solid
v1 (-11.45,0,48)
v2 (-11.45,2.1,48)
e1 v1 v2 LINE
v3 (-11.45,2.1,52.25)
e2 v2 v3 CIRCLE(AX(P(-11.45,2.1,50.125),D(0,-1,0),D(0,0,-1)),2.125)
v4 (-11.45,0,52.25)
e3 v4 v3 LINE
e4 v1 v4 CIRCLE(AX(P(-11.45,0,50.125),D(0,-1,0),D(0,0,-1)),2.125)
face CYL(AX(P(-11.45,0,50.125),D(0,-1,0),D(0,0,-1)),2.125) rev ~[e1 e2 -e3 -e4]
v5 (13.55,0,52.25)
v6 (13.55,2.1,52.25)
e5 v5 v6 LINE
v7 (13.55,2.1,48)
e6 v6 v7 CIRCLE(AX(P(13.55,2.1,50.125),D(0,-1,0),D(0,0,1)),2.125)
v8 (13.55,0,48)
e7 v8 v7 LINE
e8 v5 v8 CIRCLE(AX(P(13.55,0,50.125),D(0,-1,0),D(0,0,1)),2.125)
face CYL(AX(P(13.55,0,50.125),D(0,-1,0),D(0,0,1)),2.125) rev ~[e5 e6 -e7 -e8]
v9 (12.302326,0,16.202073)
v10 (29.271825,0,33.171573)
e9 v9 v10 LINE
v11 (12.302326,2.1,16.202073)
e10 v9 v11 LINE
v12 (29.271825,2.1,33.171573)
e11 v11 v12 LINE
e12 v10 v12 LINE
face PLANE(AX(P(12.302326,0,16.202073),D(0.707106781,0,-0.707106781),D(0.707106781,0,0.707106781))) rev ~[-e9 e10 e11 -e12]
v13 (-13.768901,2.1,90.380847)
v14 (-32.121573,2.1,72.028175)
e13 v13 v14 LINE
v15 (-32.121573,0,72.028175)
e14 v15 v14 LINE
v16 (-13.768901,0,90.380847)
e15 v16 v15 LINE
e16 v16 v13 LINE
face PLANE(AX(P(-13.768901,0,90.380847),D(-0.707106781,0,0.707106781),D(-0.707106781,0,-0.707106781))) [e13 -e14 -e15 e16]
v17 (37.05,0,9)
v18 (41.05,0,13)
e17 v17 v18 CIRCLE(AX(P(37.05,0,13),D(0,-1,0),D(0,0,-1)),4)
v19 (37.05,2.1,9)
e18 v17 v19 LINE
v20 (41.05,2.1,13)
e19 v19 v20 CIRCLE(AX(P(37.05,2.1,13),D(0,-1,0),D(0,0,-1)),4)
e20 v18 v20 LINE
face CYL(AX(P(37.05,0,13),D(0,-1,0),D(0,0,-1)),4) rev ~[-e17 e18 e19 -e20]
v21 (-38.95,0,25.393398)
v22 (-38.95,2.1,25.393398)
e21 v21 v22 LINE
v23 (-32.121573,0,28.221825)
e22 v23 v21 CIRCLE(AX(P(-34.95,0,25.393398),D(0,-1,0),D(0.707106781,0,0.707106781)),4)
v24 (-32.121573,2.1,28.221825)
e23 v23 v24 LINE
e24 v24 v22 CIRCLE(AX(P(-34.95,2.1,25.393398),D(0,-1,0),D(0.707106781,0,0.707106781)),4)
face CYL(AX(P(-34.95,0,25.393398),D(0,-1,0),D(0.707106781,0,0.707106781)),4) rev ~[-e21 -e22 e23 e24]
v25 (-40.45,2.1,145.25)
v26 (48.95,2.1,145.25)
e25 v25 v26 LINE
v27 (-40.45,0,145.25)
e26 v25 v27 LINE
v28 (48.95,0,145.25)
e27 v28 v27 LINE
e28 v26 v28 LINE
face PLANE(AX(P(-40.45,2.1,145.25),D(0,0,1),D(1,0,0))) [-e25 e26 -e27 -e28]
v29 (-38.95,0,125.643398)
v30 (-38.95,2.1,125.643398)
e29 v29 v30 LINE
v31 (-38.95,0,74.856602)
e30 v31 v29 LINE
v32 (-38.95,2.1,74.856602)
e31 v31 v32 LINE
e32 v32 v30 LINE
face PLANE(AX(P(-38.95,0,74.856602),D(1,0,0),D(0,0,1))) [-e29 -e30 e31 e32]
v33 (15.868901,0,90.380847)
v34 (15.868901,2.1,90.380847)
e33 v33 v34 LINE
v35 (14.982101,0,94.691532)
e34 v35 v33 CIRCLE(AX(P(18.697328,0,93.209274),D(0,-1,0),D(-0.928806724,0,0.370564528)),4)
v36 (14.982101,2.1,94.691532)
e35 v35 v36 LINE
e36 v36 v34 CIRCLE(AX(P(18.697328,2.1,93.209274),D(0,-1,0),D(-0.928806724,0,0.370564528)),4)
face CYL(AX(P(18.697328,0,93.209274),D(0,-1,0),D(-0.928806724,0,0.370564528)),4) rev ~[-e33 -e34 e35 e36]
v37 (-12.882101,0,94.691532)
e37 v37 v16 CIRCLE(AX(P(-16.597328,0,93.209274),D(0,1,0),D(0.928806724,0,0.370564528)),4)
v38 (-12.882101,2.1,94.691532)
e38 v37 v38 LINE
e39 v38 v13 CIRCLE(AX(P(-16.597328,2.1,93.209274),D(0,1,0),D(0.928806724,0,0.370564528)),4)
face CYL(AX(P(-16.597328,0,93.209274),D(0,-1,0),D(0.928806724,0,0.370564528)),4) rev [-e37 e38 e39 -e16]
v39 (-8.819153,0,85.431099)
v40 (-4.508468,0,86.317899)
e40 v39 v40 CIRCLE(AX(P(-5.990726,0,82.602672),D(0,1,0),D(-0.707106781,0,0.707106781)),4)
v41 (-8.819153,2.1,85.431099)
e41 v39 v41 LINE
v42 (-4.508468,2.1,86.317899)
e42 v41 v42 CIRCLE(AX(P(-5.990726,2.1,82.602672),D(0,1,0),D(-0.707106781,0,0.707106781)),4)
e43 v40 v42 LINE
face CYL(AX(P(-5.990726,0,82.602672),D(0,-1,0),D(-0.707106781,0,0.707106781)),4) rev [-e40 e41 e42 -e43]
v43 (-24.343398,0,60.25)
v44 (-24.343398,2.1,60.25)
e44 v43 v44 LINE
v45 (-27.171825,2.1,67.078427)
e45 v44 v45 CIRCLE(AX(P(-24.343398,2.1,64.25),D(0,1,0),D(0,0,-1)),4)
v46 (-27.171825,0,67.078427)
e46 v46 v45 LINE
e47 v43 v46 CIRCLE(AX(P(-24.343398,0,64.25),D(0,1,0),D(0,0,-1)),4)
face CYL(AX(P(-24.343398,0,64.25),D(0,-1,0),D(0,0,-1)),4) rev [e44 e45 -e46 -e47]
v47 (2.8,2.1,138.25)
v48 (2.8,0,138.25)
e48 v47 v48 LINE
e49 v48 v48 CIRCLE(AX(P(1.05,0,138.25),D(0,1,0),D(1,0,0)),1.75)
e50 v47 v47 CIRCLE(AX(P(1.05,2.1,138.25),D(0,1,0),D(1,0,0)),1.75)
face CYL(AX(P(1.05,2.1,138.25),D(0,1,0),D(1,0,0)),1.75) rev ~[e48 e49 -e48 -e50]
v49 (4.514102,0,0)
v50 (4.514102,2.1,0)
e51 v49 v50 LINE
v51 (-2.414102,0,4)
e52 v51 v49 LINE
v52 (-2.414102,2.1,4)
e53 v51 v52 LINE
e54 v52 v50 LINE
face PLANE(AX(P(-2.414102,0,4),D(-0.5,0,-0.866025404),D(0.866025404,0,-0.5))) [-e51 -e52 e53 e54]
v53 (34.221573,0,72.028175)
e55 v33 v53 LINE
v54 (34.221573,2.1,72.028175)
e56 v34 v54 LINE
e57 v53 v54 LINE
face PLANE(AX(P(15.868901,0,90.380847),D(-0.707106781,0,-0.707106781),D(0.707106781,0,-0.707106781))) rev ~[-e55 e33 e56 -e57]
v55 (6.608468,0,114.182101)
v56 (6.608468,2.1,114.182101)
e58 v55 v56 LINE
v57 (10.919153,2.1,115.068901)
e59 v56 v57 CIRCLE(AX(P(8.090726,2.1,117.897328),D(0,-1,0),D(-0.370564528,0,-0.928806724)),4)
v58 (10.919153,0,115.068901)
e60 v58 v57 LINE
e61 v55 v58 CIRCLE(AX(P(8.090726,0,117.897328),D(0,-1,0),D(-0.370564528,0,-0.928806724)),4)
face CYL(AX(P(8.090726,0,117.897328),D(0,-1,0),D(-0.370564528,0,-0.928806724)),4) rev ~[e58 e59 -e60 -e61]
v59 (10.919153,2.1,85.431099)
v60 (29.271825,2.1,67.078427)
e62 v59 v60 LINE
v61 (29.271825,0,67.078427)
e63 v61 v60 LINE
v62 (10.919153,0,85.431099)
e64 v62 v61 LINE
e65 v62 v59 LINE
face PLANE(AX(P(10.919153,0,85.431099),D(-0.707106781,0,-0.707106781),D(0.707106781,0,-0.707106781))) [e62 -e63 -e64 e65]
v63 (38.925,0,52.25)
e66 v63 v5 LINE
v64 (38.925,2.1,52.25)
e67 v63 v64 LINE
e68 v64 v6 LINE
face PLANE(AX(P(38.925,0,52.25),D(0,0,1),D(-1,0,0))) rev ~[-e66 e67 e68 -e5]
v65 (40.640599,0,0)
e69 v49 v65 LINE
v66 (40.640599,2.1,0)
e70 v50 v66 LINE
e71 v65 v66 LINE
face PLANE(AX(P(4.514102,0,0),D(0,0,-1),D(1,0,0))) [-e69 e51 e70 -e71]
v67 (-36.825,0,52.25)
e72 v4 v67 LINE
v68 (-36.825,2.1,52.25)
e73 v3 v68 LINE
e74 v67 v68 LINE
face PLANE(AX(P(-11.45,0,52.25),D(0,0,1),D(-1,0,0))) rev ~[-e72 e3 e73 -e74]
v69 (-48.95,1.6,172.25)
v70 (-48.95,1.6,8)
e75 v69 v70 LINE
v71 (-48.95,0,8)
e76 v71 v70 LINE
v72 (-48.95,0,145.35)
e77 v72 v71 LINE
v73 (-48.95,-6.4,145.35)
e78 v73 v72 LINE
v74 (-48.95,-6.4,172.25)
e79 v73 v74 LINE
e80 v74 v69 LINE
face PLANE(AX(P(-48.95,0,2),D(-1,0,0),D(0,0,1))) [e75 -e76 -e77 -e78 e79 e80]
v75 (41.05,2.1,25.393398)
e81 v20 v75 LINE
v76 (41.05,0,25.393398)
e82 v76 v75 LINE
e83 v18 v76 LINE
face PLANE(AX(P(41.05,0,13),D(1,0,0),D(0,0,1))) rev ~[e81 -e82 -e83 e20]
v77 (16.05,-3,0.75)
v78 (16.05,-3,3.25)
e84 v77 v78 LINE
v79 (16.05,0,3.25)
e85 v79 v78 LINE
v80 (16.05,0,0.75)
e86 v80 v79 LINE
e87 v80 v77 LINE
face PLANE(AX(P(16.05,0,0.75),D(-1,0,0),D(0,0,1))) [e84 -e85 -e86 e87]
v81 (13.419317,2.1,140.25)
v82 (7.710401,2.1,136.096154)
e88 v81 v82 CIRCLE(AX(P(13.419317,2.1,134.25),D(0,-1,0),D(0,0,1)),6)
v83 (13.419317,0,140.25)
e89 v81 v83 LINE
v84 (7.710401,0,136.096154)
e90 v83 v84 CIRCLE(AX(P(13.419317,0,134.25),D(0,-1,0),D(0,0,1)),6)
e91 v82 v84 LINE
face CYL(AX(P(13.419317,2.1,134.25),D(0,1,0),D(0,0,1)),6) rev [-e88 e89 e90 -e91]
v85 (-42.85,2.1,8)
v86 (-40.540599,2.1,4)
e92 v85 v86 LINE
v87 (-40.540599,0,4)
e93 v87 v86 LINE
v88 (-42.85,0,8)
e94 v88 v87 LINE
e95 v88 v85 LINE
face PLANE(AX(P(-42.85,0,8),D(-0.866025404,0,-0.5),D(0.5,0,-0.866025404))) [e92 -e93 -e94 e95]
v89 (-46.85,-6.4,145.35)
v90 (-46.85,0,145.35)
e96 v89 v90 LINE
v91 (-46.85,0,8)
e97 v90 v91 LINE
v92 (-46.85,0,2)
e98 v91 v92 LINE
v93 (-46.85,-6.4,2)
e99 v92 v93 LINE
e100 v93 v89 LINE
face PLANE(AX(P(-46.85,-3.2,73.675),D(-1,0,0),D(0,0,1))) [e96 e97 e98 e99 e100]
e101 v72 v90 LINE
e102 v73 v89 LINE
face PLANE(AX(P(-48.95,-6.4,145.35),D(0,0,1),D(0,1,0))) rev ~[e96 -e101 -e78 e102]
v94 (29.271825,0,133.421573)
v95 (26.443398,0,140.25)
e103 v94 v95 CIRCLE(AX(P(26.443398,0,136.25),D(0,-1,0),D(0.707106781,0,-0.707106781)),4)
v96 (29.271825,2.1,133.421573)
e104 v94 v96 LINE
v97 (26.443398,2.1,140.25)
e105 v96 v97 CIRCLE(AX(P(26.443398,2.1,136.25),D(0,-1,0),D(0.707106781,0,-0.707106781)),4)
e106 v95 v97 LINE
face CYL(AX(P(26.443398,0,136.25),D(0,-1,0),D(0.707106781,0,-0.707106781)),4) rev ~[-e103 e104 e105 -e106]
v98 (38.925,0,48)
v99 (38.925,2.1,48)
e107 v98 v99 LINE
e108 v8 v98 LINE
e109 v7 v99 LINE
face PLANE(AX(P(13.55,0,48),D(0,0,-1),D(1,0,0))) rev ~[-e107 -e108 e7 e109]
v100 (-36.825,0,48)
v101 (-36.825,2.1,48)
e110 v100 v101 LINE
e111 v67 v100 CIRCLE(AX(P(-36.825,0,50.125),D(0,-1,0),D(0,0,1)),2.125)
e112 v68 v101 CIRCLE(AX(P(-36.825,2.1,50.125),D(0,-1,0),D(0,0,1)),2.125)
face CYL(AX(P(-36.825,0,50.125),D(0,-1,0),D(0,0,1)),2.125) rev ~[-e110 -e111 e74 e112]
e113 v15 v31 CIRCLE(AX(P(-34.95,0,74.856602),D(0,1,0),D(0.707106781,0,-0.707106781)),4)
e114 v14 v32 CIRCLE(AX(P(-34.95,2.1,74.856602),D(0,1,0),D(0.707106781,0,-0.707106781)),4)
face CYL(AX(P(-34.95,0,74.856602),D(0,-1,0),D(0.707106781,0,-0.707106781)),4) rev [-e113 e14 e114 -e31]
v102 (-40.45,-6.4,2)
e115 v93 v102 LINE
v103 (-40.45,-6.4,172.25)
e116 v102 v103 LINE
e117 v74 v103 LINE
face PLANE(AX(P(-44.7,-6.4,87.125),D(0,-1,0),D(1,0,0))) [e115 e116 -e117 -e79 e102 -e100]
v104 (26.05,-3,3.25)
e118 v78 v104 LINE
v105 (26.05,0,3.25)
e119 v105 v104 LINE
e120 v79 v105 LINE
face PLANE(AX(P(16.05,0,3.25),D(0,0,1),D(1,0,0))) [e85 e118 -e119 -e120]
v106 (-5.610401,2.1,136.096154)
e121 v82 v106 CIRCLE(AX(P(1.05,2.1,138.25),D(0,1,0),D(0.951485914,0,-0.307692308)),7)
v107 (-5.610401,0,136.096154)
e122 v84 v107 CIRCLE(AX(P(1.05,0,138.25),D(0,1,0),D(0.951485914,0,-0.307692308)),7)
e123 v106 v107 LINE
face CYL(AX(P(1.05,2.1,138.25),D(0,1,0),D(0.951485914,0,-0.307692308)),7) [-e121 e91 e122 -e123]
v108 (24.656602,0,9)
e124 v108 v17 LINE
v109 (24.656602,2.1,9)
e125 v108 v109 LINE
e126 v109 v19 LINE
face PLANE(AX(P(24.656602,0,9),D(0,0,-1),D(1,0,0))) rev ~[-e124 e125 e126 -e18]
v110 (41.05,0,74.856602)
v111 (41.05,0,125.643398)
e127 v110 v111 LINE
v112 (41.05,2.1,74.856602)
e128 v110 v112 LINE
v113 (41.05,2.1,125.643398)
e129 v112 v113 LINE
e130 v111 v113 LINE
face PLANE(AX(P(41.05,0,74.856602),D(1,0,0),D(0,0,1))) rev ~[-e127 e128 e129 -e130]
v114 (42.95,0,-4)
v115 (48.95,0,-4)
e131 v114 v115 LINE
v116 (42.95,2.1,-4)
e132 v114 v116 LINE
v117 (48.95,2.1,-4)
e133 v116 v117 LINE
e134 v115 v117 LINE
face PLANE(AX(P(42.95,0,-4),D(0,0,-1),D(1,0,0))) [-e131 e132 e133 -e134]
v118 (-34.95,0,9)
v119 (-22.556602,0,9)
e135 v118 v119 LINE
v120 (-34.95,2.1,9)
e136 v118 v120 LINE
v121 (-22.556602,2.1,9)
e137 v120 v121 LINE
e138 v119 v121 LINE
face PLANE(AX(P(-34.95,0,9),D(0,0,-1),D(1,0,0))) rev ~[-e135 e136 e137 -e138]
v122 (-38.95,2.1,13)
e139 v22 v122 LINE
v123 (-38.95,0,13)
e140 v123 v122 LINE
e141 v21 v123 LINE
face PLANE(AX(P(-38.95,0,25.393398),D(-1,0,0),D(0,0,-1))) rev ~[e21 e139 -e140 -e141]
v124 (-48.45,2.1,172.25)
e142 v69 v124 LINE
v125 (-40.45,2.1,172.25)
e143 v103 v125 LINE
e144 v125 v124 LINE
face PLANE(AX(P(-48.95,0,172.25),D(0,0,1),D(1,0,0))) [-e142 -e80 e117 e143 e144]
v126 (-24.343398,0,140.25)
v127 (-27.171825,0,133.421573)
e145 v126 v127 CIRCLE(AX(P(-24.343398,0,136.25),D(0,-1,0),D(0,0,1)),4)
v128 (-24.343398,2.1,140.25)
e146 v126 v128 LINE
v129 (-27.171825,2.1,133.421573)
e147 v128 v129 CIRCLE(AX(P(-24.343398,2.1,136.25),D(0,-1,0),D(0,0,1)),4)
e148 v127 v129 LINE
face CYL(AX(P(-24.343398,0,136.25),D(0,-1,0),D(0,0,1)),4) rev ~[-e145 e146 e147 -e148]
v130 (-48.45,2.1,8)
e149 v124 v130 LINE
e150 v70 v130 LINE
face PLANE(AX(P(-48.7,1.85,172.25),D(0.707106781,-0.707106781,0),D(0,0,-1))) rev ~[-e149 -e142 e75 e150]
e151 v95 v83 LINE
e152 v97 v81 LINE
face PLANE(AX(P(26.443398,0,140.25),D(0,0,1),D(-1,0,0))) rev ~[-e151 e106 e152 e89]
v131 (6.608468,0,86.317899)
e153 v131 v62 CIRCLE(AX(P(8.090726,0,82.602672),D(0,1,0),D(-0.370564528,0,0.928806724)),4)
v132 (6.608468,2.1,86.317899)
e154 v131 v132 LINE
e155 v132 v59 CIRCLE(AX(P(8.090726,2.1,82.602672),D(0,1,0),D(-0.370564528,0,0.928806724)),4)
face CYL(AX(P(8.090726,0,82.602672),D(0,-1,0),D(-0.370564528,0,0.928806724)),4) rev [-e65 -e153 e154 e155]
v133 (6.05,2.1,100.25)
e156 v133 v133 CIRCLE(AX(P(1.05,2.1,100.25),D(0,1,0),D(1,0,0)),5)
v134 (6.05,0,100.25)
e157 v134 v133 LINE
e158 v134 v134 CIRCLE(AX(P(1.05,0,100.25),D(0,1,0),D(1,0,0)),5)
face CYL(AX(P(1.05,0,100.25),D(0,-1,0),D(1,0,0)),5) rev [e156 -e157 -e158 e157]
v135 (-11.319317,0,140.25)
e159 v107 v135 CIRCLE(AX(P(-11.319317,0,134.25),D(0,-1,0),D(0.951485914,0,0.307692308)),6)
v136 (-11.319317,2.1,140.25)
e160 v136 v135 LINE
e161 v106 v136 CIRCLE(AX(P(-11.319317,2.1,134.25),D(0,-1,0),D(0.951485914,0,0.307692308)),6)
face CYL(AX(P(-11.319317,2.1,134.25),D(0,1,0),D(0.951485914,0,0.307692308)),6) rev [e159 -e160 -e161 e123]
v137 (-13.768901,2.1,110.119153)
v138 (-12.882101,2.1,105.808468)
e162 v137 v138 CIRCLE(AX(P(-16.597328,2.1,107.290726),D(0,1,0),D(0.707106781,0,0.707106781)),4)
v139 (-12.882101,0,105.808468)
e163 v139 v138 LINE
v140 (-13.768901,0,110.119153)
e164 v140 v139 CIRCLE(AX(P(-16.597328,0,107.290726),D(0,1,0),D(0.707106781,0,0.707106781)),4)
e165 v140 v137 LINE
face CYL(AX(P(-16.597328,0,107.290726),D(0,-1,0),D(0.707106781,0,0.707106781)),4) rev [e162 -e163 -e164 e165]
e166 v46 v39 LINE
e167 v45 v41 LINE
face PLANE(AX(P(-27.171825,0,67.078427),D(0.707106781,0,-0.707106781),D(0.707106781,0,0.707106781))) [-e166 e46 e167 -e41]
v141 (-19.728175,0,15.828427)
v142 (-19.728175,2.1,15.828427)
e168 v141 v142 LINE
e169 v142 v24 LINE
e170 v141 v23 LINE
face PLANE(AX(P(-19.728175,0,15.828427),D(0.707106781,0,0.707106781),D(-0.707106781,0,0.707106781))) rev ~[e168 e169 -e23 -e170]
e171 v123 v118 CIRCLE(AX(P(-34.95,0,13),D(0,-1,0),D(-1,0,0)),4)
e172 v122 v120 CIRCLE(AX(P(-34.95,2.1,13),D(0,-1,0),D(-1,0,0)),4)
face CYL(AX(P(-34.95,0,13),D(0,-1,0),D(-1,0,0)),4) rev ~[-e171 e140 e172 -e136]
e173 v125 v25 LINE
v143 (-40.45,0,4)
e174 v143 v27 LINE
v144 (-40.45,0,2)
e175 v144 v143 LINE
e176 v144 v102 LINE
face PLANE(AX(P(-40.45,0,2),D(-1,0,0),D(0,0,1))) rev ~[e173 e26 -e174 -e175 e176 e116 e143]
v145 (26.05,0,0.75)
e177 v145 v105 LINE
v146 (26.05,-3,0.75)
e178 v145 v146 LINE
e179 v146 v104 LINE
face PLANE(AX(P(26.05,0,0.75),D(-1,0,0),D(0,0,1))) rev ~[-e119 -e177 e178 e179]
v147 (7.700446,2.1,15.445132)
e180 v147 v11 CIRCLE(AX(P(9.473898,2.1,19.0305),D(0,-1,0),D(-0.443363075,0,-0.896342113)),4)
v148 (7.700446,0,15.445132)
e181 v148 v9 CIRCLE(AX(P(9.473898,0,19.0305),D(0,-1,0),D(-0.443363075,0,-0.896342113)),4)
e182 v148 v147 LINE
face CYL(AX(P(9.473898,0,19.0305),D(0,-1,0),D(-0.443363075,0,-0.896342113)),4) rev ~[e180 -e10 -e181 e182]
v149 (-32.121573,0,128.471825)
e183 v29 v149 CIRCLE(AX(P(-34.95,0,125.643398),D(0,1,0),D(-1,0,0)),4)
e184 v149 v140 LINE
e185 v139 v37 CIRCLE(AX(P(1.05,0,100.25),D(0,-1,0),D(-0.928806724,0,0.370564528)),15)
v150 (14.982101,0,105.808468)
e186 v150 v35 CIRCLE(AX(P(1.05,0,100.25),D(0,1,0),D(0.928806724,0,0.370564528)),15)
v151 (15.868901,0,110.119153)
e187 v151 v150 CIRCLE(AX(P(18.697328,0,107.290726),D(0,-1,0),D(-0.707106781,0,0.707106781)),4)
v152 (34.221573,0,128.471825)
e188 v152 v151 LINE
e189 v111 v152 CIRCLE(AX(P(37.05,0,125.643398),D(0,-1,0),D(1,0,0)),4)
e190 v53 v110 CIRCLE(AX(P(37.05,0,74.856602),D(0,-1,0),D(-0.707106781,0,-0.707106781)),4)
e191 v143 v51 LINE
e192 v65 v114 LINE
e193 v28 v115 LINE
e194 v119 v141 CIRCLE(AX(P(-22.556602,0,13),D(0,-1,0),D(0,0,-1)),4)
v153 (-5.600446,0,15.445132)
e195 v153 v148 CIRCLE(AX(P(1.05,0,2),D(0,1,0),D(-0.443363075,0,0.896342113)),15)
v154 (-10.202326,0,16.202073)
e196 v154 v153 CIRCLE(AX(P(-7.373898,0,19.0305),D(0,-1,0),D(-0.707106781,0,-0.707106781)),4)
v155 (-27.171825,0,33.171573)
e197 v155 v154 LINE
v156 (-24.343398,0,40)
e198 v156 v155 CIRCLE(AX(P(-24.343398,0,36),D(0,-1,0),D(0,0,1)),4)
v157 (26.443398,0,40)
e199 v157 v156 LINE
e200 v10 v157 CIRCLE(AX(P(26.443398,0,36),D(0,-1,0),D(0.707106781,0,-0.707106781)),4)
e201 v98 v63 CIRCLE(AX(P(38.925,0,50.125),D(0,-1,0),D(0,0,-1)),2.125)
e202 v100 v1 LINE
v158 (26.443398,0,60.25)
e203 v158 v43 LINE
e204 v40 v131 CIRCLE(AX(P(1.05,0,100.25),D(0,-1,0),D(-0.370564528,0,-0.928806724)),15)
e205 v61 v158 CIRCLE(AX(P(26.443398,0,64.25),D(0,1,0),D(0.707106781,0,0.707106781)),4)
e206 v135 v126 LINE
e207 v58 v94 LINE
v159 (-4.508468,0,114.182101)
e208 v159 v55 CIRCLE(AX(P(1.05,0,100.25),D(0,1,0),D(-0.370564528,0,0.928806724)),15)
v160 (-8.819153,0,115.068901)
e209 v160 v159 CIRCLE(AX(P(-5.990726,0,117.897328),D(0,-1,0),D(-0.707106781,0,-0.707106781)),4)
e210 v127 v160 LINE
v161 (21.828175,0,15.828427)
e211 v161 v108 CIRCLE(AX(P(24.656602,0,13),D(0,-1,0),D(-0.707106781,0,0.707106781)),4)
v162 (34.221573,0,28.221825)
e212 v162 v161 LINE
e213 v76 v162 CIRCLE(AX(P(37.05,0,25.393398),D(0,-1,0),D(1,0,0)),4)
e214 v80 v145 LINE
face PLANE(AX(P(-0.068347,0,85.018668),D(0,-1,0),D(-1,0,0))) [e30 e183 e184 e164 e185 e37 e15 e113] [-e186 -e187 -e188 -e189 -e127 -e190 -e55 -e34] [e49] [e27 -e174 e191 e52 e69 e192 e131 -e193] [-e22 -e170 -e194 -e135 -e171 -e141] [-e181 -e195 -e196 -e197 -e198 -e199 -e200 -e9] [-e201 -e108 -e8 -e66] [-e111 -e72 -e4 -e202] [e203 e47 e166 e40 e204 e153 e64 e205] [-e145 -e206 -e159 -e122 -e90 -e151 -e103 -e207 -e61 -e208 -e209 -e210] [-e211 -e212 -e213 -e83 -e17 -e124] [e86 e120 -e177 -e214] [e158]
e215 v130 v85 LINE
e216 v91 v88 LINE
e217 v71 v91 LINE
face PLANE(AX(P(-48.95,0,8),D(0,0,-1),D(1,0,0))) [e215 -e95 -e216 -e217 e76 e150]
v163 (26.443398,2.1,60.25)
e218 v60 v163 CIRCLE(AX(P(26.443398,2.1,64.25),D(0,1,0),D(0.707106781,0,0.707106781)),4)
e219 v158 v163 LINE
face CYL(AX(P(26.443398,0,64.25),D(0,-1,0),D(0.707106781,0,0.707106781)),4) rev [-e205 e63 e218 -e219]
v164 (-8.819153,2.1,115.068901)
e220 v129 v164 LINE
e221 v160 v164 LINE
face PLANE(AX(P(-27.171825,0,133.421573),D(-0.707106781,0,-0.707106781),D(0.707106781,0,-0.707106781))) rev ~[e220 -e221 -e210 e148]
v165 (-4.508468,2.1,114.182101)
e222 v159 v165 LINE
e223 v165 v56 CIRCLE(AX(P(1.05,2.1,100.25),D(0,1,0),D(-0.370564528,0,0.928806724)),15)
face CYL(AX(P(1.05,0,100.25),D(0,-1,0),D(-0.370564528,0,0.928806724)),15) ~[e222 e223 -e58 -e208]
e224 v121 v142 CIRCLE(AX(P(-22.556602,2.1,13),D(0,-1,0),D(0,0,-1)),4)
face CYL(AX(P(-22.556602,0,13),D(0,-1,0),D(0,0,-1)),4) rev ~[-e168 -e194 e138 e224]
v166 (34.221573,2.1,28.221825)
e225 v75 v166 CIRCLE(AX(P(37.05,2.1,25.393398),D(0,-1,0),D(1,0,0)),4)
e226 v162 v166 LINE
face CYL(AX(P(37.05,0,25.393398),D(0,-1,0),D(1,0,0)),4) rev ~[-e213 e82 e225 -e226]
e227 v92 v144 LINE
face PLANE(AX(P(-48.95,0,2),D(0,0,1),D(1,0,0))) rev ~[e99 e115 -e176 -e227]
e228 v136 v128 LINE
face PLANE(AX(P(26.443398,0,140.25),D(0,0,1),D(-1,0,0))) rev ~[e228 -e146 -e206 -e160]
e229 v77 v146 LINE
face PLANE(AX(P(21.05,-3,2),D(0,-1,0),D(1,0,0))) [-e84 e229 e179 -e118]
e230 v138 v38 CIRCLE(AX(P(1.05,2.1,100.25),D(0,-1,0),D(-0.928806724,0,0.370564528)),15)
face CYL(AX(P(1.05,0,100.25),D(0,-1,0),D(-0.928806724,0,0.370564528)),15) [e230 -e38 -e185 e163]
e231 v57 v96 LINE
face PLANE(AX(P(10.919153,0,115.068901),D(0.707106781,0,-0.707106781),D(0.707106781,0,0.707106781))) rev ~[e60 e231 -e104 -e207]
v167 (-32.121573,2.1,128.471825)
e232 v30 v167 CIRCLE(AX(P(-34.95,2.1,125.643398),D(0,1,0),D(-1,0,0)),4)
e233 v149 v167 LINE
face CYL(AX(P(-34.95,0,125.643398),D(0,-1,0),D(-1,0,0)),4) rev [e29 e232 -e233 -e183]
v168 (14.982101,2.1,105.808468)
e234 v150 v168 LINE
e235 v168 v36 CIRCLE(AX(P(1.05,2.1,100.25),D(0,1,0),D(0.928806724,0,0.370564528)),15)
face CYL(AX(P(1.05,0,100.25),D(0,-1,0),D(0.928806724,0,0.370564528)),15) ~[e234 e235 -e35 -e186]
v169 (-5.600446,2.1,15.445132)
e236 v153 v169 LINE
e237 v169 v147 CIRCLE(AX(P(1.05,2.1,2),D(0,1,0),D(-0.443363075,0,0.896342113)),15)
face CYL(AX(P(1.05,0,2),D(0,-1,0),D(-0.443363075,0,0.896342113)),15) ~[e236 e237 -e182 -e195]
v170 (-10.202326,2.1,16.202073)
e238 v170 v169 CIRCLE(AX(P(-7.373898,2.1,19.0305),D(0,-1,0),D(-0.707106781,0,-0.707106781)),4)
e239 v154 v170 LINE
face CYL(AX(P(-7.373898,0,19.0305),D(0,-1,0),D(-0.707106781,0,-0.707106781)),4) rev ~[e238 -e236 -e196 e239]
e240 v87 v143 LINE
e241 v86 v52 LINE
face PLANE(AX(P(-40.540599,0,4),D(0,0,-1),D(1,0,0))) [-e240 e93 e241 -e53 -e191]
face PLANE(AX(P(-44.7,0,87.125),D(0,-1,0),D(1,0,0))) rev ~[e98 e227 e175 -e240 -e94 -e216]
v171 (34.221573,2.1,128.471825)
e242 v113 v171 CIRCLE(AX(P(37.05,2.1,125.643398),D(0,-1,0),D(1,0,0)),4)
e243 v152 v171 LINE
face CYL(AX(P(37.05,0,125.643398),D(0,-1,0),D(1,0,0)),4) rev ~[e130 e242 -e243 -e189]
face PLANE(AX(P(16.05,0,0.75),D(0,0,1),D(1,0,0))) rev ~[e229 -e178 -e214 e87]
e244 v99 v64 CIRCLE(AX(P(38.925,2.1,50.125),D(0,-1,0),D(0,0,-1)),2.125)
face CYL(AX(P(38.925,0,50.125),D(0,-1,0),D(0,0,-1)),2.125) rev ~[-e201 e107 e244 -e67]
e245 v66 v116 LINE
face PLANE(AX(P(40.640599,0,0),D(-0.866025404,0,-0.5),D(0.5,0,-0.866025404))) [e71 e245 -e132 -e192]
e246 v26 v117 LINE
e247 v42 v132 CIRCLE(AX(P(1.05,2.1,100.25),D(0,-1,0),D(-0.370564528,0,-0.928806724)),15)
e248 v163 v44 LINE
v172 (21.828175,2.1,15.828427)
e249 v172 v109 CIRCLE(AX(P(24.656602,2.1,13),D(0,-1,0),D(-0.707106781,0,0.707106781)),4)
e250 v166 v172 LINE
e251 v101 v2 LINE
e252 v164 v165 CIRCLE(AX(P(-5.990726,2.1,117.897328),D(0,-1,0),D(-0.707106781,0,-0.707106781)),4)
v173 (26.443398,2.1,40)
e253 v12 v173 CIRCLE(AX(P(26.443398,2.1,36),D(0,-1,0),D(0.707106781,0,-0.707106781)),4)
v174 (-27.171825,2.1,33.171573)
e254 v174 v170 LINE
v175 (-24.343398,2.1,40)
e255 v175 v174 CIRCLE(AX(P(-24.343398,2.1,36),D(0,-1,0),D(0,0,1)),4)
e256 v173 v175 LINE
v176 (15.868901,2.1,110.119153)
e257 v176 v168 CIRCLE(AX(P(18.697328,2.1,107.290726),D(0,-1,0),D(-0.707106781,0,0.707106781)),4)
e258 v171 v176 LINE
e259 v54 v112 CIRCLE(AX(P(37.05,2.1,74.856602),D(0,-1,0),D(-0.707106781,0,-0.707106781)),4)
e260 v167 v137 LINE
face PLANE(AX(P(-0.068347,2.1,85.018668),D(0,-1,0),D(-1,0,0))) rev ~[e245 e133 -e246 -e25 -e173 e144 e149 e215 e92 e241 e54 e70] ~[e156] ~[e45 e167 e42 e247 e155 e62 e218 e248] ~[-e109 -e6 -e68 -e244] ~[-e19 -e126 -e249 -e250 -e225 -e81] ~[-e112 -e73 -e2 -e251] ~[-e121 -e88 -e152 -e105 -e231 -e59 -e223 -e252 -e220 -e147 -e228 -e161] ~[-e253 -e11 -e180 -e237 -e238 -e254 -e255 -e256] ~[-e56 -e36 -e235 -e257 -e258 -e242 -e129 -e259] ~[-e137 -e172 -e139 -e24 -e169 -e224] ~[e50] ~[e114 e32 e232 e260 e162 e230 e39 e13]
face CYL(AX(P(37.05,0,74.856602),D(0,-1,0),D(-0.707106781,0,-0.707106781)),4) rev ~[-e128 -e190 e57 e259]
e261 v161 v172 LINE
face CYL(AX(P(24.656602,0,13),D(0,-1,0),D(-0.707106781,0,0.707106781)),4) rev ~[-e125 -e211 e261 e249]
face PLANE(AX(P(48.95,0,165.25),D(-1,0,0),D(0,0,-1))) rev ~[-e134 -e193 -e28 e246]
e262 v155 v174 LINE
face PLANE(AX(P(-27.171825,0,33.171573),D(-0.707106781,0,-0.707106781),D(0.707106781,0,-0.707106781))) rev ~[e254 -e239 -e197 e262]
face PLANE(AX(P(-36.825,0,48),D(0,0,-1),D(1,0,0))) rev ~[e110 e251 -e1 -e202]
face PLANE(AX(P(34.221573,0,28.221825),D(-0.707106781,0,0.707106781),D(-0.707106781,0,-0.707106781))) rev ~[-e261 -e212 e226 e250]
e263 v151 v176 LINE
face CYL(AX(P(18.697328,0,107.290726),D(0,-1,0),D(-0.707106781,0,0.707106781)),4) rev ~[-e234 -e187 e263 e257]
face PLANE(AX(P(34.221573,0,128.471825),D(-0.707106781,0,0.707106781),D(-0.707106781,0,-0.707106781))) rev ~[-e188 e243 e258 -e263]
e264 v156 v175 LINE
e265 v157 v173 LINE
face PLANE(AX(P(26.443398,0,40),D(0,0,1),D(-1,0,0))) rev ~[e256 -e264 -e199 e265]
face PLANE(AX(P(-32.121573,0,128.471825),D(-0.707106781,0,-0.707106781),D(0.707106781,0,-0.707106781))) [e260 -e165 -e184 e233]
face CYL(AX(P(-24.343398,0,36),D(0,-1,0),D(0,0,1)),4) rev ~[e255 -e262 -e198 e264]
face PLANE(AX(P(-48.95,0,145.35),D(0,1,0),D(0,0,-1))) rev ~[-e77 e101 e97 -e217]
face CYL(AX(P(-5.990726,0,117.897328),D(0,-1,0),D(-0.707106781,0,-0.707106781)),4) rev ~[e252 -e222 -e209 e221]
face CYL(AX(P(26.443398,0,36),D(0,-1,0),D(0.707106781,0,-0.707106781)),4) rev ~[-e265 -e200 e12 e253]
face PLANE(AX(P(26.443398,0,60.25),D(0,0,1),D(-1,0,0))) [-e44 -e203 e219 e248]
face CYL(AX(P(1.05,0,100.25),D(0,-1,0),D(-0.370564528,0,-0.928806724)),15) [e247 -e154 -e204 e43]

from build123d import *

# Parameters (mm, degrees)
SKETCH1_R           = 5
BOSS_EXTRUDE1_DEPTH = 2.1
SKETCH5_W           = 8.5
SKETCH5_H           = 170.25
BOSS_EXTRUDE3_DEPTH = 6.4
CUT_EXTRUDE2_DEPTH  = 2.1
SKETCH7_W           = 10
SKETCH7_H           = 2.5
BOSS_EXTRUDE4_DEPTH = 3
CHAMFER1_SIZE       = 0.5
SKETCH8_W           = 89.4
SKETCH8_H           = 20
CUT_EXTRUDE3_DEPTH  = 9.5
SKETCH9_R           = 1.75
BOSS_EXTRUDE8_DEPTH = 2.1


with BuildPart() as part:
    # Sketch1 → Boss-Extrude1 (new body)
    with BuildSketch(Plane(origin=(0, 0, 0), x_dir=(1, 0, 0), z_dir=(0, 1, 0))):
        Polygon((-48.95, -172.25), (-48.95, -8), (-42.85, -8), (-40.540598923, -4), (-2.414101615, -4), (4.514101615, 0), (40.640598923, 0), (42.95, 4), (48.95, 4), (48.95, -7.35), (48.95, -165.25), (-40.45, -165.25), (-40.45, -172.25), align=None)
        with Locations((1.05, -100.25)):
            Circle(SKETCH1_R, mode=Mode.SUBTRACT)
        with BuildLine():
            Line((-27.171825407, -133.421572875), (-8.819153161, -115.06890063))
            ThreePointArc((-8.819153161, -115.06890063), (-6.796732371, -113.979375), (-4.508467924, -114.182100859))
            ThreePointArc((-4.508467924, -114.182100859), (1.05, -115.25), (6.608467924, -114.182100859))
            ThreePointArc((6.608467924, -114.182100859), (8.896732371, -113.979375), (10.919153161, -115.06890063))
            Line((10.919153161, -115.06890063), (29.271825407, -133.421572875))
            ThreePointArc((29.271825407, -133.421572875), (30.138916412, -137.780733729), (26.443398282, -140.25))
            Line((26.443398282, -140.25), (-24.343398282, -140.25))
            ThreePointArc((-24.343398282, -140.25), (-28.038916412, -137.780733729), (-27.171825407, -133.421572875))
        make_face(mode=Mode.SUBTRACT)
        with BuildLine():
            Line((-34.95, -9), (-22.556601718, -9))
            ThreePointArc((-22.556601718, -9), (-18.861083588, -11.469266271), (-19.728174593, -15.828427125))
            Line((-19.728174593, -15.828427125), (-32.121572875, -28.221825407))
            ThreePointArc((-32.121572875, -28.221825407), (-36.480733729, -29.088916412), (-38.95, -25.393398282))
            Line((-38.95, -25.393398282), (-38.95, -13))
            ThreePointArc((-38.95, -13), (-37.778427125, -10.171572875), (-34.95, -9))
        make_face(mode=Mode.SUBTRACT)
        with BuildLine():
            Line((41.05, -13), (41.05, -25.393398282))
            ThreePointArc((41.05, -25.393398282), (38.580733729, -29.088916412), (34.221572875, -28.221825407))
            Line((34.221572875, -28.221825407), (21.828174593, -15.828427125))
            ThreePointArc((21.828174593, -15.828427125), (20.961083588, -11.469266271), (24.656601718, -9))
            Line((24.656601718, -9), (37.05, -9))
            ThreePointArc((37.05, -9), (39.878427125, -10.171572875), (41.05, -13))
        make_face(mode=Mode.SUBTRACT)
        with BuildLine():
            Line((-32.121572875, -128.471825407), (-13.76890063, -110.119153161))
            ThreePointArc((-13.76890063, -110.119153161), (-12.679375, -108.096732371), (-12.882100859, -105.808467924))
            ThreePointArc((-12.882100859, -105.808467924), (-13.95, -100.25), (-12.882100859, -94.691532076))
            ThreePointArc((-12.882100859, -94.691532076), (-12.679375, -92.403267629), (-13.76890063, -90.380846839))
            Line((-13.76890063, -90.380846839), (-32.121572875, -72.028174593))
            ThreePointArc((-32.121572875, -72.028174593), (-36.480733729, -71.161083588), (-38.95, -74.856601718))
            Line((-38.95, -74.856601718), (-38.95, -125.643398282))
            ThreePointArc((-38.95, -125.643398282), (-36.480733729, -129.338916412), (-32.121572875, -128.471825407))
        make_face(mode=Mode.SUBTRACT)
        with BuildLine():
            Line((34.221572875, -128.471825407), (15.86890063, -110.119153161))
            ThreePointArc((15.86890063, -110.119153161), (14.779375, -108.096732371), (14.982100859, -105.808467924))
            ThreePointArc((14.982100859, -105.808467924), (16.05, -100.25), (14.982100859, -94.691532076))
            ThreePointArc((14.982100859, -94.691532076), (14.779375, -92.403267629), (15.86890063, -90.380846839))
            Line((15.86890063, -90.380846839), (34.221572875, -72.028174593))
            ThreePointArc((34.221572875, -72.028174593), (38.580733729, -71.161083588), (41.05, -74.856601718))
            Line((41.05, -74.856601718), (41.05, -125.643398282))
            ThreePointArc((41.05, -125.643398282), (38.580733729, -129.338916412), (34.221572875, -128.471825407))
        make_face(mode=Mode.SUBTRACT)
        with BuildLine():
            Line((10.919153161, -85.43109937), (29.271825407, -67.078427125))
            ThreePointArc((29.271825407, -67.078427125), (30.138916412, -62.719266271), (26.443398282, -60.25))
            Line((26.443398282, -60.25), (-24.343398282, -60.25))
            ThreePointArc((-24.343398282, -60.25), (-28.038916412, -62.719266271), (-27.171825407, -67.078427125))
            Line((-27.171825407, -67.078427125), (-8.819153161, -85.43109937))
            ThreePointArc((-8.819153161, -85.43109937), (-6.796732371, -86.520625), (-4.508467924, -86.317899141))
            ThreePointArc((-4.508467924, -86.317899141), (1.05, -85.25), (6.608467924, -86.317899141))
            ThreePointArc((6.608467924, -86.317899141), (8.896732371, -86.520625), (10.919153161, -85.43109937))
        make_face(mode=Mode.SUBTRACT)
        with BuildLine():
            Line((-27.171825407, -33.171572875), (-10.202325554, -16.202073022))
            ThreePointArc((-10.202325554, -16.202073022), (-8.02311566, -15.083537139), (-5.600446128, -15.445131695))
            ThreePointArc((-5.600446128, -15.445131695), (1.05, -17), (7.700446128, -15.445131695))
            ThreePointArc((7.700446128, -15.445131695), (10.12311566, -15.083537139), (12.302325554, -16.202073022))
            Line((12.302325554, -16.202073022), (29.271825407, -33.171572875))
            ThreePointArc((29.271825407, -33.171572875), (30.138916412, -37.530733729), (26.443398282, -40))
            Line((26.443398282, -40), (-24.343398282, -40))
            ThreePointArc((-24.343398282, -40), (-28.038916412, -37.530733729), (-27.171825407, -33.171572875))
        make_face(mode=Mode.SUBTRACT)
        with BuildLine():
            Line((-36.825, -48), (-11.45, -48))
            ThreePointArc((-11.45, -48), (-9.325, -50.125), (-11.45, -52.25))
            Line((-11.45, -52.25), (-36.825, -52.25))
            ThreePointArc((-36.825, -52.25), (-38.95, -50.125), (-36.825, -48))
        make_face(mode=Mode.SUBTRACT)
        with BuildLine():
            Line((13.55, -48), (38.925, -48))
            ThreePointArc((38.925, -48), (41.05, -50.125), (38.925, -52.25))
            Line((38.925, -52.25), (13.55, -52.25))
            ThreePointArc((13.55, -52.25), (11.425, -50.125), (13.55, -48))
        make_face(mode=Mode.SUBTRACT)
    extrude(amount=BOSS_EXTRUDE1_DEPTH)

    # Sketch5 → Boss-Extrude3 (add)
    with BuildSketch(Plane.XZ):
        with Locations((-44.7, 87.125)):
            Rectangle(SKETCH5_W, SKETCH5_H)
    extrude(amount=BOSS_EXTRUDE3_DEPTH)

    # Sketch6 → Cut-Extrude2 (cut)
    with BuildSketch(Plane.ZY.offset(48.95)):
        Polygon((8, 0), (2, 0), (2, -6.4), (145.35, -6.4), (145.35, 0), (140.25, 0), align=None)
    extrude(amount=-CUT_EXTRUDE2_DEPTH, mode=Mode.SUBTRACT)

    # Sketch7 → Boss-Extrude4 (add)
    with BuildSketch(Plane.XZ):
        with Locations((21.05, 2)):
            Rectangle(SKETCH7_W, SKETCH7_H)
    extrude(amount=BOSS_EXTRUDE4_DEPTH)

    # Chamfer1
    chamfer1_edges = [part.edges().sort_by_distance(p)[0] for p in [
        (-48.95, 2.1, 90.125),
    ]]
    chamfer(chamfer1_edges, length=CHAMFER1_SIZE)

    # Sketch8 → Cut-Extrude3 (cut, through all)
    with BuildSketch(Plane(origin=(0, 2.1, 0), x_dir=(1, 0, 0), z_dir=(0, 1, 0))):
        with Locations((4.25, -155.25)):
            Rectangle(SKETCH8_W, SKETCH8_H)
    extrude(amount=-CUT_EXTRUDE3_DEPTH, mode=Mode.SUBTRACT)

    # Sketch9 → Boss-Extrude8 (add)
    with BuildSketch(Plane(origin=(0, 2.1, 0), x_dir=(1, 0, 0), z_dir=(0, 1, 0))):
        with BuildLine():
            Line((-11.319316877, -140.25), (13.419316877, -140.25))
            ThreePointArc((13.419316877, -140.25), (9.889226444, -139.10164524), (7.710401395, -136.096153846))
            ThreePointArc((7.710401395, -136.096153846), (1.05, -131.25), (-5.610401395, -136.096153846))
            ThreePointArc((-5.610401395, -136.096153846), (-7.789226444, -139.10164524), (-11.319316877, -140.25))
        make_face()
        with Locations((1.05, -138.25)):
            Circle(SKETCH9_R, mode=Mode.SUBTRACT)
    extrude(amount=-BOSS_EXTRUDE8_DEPTH)


solid = part.part
